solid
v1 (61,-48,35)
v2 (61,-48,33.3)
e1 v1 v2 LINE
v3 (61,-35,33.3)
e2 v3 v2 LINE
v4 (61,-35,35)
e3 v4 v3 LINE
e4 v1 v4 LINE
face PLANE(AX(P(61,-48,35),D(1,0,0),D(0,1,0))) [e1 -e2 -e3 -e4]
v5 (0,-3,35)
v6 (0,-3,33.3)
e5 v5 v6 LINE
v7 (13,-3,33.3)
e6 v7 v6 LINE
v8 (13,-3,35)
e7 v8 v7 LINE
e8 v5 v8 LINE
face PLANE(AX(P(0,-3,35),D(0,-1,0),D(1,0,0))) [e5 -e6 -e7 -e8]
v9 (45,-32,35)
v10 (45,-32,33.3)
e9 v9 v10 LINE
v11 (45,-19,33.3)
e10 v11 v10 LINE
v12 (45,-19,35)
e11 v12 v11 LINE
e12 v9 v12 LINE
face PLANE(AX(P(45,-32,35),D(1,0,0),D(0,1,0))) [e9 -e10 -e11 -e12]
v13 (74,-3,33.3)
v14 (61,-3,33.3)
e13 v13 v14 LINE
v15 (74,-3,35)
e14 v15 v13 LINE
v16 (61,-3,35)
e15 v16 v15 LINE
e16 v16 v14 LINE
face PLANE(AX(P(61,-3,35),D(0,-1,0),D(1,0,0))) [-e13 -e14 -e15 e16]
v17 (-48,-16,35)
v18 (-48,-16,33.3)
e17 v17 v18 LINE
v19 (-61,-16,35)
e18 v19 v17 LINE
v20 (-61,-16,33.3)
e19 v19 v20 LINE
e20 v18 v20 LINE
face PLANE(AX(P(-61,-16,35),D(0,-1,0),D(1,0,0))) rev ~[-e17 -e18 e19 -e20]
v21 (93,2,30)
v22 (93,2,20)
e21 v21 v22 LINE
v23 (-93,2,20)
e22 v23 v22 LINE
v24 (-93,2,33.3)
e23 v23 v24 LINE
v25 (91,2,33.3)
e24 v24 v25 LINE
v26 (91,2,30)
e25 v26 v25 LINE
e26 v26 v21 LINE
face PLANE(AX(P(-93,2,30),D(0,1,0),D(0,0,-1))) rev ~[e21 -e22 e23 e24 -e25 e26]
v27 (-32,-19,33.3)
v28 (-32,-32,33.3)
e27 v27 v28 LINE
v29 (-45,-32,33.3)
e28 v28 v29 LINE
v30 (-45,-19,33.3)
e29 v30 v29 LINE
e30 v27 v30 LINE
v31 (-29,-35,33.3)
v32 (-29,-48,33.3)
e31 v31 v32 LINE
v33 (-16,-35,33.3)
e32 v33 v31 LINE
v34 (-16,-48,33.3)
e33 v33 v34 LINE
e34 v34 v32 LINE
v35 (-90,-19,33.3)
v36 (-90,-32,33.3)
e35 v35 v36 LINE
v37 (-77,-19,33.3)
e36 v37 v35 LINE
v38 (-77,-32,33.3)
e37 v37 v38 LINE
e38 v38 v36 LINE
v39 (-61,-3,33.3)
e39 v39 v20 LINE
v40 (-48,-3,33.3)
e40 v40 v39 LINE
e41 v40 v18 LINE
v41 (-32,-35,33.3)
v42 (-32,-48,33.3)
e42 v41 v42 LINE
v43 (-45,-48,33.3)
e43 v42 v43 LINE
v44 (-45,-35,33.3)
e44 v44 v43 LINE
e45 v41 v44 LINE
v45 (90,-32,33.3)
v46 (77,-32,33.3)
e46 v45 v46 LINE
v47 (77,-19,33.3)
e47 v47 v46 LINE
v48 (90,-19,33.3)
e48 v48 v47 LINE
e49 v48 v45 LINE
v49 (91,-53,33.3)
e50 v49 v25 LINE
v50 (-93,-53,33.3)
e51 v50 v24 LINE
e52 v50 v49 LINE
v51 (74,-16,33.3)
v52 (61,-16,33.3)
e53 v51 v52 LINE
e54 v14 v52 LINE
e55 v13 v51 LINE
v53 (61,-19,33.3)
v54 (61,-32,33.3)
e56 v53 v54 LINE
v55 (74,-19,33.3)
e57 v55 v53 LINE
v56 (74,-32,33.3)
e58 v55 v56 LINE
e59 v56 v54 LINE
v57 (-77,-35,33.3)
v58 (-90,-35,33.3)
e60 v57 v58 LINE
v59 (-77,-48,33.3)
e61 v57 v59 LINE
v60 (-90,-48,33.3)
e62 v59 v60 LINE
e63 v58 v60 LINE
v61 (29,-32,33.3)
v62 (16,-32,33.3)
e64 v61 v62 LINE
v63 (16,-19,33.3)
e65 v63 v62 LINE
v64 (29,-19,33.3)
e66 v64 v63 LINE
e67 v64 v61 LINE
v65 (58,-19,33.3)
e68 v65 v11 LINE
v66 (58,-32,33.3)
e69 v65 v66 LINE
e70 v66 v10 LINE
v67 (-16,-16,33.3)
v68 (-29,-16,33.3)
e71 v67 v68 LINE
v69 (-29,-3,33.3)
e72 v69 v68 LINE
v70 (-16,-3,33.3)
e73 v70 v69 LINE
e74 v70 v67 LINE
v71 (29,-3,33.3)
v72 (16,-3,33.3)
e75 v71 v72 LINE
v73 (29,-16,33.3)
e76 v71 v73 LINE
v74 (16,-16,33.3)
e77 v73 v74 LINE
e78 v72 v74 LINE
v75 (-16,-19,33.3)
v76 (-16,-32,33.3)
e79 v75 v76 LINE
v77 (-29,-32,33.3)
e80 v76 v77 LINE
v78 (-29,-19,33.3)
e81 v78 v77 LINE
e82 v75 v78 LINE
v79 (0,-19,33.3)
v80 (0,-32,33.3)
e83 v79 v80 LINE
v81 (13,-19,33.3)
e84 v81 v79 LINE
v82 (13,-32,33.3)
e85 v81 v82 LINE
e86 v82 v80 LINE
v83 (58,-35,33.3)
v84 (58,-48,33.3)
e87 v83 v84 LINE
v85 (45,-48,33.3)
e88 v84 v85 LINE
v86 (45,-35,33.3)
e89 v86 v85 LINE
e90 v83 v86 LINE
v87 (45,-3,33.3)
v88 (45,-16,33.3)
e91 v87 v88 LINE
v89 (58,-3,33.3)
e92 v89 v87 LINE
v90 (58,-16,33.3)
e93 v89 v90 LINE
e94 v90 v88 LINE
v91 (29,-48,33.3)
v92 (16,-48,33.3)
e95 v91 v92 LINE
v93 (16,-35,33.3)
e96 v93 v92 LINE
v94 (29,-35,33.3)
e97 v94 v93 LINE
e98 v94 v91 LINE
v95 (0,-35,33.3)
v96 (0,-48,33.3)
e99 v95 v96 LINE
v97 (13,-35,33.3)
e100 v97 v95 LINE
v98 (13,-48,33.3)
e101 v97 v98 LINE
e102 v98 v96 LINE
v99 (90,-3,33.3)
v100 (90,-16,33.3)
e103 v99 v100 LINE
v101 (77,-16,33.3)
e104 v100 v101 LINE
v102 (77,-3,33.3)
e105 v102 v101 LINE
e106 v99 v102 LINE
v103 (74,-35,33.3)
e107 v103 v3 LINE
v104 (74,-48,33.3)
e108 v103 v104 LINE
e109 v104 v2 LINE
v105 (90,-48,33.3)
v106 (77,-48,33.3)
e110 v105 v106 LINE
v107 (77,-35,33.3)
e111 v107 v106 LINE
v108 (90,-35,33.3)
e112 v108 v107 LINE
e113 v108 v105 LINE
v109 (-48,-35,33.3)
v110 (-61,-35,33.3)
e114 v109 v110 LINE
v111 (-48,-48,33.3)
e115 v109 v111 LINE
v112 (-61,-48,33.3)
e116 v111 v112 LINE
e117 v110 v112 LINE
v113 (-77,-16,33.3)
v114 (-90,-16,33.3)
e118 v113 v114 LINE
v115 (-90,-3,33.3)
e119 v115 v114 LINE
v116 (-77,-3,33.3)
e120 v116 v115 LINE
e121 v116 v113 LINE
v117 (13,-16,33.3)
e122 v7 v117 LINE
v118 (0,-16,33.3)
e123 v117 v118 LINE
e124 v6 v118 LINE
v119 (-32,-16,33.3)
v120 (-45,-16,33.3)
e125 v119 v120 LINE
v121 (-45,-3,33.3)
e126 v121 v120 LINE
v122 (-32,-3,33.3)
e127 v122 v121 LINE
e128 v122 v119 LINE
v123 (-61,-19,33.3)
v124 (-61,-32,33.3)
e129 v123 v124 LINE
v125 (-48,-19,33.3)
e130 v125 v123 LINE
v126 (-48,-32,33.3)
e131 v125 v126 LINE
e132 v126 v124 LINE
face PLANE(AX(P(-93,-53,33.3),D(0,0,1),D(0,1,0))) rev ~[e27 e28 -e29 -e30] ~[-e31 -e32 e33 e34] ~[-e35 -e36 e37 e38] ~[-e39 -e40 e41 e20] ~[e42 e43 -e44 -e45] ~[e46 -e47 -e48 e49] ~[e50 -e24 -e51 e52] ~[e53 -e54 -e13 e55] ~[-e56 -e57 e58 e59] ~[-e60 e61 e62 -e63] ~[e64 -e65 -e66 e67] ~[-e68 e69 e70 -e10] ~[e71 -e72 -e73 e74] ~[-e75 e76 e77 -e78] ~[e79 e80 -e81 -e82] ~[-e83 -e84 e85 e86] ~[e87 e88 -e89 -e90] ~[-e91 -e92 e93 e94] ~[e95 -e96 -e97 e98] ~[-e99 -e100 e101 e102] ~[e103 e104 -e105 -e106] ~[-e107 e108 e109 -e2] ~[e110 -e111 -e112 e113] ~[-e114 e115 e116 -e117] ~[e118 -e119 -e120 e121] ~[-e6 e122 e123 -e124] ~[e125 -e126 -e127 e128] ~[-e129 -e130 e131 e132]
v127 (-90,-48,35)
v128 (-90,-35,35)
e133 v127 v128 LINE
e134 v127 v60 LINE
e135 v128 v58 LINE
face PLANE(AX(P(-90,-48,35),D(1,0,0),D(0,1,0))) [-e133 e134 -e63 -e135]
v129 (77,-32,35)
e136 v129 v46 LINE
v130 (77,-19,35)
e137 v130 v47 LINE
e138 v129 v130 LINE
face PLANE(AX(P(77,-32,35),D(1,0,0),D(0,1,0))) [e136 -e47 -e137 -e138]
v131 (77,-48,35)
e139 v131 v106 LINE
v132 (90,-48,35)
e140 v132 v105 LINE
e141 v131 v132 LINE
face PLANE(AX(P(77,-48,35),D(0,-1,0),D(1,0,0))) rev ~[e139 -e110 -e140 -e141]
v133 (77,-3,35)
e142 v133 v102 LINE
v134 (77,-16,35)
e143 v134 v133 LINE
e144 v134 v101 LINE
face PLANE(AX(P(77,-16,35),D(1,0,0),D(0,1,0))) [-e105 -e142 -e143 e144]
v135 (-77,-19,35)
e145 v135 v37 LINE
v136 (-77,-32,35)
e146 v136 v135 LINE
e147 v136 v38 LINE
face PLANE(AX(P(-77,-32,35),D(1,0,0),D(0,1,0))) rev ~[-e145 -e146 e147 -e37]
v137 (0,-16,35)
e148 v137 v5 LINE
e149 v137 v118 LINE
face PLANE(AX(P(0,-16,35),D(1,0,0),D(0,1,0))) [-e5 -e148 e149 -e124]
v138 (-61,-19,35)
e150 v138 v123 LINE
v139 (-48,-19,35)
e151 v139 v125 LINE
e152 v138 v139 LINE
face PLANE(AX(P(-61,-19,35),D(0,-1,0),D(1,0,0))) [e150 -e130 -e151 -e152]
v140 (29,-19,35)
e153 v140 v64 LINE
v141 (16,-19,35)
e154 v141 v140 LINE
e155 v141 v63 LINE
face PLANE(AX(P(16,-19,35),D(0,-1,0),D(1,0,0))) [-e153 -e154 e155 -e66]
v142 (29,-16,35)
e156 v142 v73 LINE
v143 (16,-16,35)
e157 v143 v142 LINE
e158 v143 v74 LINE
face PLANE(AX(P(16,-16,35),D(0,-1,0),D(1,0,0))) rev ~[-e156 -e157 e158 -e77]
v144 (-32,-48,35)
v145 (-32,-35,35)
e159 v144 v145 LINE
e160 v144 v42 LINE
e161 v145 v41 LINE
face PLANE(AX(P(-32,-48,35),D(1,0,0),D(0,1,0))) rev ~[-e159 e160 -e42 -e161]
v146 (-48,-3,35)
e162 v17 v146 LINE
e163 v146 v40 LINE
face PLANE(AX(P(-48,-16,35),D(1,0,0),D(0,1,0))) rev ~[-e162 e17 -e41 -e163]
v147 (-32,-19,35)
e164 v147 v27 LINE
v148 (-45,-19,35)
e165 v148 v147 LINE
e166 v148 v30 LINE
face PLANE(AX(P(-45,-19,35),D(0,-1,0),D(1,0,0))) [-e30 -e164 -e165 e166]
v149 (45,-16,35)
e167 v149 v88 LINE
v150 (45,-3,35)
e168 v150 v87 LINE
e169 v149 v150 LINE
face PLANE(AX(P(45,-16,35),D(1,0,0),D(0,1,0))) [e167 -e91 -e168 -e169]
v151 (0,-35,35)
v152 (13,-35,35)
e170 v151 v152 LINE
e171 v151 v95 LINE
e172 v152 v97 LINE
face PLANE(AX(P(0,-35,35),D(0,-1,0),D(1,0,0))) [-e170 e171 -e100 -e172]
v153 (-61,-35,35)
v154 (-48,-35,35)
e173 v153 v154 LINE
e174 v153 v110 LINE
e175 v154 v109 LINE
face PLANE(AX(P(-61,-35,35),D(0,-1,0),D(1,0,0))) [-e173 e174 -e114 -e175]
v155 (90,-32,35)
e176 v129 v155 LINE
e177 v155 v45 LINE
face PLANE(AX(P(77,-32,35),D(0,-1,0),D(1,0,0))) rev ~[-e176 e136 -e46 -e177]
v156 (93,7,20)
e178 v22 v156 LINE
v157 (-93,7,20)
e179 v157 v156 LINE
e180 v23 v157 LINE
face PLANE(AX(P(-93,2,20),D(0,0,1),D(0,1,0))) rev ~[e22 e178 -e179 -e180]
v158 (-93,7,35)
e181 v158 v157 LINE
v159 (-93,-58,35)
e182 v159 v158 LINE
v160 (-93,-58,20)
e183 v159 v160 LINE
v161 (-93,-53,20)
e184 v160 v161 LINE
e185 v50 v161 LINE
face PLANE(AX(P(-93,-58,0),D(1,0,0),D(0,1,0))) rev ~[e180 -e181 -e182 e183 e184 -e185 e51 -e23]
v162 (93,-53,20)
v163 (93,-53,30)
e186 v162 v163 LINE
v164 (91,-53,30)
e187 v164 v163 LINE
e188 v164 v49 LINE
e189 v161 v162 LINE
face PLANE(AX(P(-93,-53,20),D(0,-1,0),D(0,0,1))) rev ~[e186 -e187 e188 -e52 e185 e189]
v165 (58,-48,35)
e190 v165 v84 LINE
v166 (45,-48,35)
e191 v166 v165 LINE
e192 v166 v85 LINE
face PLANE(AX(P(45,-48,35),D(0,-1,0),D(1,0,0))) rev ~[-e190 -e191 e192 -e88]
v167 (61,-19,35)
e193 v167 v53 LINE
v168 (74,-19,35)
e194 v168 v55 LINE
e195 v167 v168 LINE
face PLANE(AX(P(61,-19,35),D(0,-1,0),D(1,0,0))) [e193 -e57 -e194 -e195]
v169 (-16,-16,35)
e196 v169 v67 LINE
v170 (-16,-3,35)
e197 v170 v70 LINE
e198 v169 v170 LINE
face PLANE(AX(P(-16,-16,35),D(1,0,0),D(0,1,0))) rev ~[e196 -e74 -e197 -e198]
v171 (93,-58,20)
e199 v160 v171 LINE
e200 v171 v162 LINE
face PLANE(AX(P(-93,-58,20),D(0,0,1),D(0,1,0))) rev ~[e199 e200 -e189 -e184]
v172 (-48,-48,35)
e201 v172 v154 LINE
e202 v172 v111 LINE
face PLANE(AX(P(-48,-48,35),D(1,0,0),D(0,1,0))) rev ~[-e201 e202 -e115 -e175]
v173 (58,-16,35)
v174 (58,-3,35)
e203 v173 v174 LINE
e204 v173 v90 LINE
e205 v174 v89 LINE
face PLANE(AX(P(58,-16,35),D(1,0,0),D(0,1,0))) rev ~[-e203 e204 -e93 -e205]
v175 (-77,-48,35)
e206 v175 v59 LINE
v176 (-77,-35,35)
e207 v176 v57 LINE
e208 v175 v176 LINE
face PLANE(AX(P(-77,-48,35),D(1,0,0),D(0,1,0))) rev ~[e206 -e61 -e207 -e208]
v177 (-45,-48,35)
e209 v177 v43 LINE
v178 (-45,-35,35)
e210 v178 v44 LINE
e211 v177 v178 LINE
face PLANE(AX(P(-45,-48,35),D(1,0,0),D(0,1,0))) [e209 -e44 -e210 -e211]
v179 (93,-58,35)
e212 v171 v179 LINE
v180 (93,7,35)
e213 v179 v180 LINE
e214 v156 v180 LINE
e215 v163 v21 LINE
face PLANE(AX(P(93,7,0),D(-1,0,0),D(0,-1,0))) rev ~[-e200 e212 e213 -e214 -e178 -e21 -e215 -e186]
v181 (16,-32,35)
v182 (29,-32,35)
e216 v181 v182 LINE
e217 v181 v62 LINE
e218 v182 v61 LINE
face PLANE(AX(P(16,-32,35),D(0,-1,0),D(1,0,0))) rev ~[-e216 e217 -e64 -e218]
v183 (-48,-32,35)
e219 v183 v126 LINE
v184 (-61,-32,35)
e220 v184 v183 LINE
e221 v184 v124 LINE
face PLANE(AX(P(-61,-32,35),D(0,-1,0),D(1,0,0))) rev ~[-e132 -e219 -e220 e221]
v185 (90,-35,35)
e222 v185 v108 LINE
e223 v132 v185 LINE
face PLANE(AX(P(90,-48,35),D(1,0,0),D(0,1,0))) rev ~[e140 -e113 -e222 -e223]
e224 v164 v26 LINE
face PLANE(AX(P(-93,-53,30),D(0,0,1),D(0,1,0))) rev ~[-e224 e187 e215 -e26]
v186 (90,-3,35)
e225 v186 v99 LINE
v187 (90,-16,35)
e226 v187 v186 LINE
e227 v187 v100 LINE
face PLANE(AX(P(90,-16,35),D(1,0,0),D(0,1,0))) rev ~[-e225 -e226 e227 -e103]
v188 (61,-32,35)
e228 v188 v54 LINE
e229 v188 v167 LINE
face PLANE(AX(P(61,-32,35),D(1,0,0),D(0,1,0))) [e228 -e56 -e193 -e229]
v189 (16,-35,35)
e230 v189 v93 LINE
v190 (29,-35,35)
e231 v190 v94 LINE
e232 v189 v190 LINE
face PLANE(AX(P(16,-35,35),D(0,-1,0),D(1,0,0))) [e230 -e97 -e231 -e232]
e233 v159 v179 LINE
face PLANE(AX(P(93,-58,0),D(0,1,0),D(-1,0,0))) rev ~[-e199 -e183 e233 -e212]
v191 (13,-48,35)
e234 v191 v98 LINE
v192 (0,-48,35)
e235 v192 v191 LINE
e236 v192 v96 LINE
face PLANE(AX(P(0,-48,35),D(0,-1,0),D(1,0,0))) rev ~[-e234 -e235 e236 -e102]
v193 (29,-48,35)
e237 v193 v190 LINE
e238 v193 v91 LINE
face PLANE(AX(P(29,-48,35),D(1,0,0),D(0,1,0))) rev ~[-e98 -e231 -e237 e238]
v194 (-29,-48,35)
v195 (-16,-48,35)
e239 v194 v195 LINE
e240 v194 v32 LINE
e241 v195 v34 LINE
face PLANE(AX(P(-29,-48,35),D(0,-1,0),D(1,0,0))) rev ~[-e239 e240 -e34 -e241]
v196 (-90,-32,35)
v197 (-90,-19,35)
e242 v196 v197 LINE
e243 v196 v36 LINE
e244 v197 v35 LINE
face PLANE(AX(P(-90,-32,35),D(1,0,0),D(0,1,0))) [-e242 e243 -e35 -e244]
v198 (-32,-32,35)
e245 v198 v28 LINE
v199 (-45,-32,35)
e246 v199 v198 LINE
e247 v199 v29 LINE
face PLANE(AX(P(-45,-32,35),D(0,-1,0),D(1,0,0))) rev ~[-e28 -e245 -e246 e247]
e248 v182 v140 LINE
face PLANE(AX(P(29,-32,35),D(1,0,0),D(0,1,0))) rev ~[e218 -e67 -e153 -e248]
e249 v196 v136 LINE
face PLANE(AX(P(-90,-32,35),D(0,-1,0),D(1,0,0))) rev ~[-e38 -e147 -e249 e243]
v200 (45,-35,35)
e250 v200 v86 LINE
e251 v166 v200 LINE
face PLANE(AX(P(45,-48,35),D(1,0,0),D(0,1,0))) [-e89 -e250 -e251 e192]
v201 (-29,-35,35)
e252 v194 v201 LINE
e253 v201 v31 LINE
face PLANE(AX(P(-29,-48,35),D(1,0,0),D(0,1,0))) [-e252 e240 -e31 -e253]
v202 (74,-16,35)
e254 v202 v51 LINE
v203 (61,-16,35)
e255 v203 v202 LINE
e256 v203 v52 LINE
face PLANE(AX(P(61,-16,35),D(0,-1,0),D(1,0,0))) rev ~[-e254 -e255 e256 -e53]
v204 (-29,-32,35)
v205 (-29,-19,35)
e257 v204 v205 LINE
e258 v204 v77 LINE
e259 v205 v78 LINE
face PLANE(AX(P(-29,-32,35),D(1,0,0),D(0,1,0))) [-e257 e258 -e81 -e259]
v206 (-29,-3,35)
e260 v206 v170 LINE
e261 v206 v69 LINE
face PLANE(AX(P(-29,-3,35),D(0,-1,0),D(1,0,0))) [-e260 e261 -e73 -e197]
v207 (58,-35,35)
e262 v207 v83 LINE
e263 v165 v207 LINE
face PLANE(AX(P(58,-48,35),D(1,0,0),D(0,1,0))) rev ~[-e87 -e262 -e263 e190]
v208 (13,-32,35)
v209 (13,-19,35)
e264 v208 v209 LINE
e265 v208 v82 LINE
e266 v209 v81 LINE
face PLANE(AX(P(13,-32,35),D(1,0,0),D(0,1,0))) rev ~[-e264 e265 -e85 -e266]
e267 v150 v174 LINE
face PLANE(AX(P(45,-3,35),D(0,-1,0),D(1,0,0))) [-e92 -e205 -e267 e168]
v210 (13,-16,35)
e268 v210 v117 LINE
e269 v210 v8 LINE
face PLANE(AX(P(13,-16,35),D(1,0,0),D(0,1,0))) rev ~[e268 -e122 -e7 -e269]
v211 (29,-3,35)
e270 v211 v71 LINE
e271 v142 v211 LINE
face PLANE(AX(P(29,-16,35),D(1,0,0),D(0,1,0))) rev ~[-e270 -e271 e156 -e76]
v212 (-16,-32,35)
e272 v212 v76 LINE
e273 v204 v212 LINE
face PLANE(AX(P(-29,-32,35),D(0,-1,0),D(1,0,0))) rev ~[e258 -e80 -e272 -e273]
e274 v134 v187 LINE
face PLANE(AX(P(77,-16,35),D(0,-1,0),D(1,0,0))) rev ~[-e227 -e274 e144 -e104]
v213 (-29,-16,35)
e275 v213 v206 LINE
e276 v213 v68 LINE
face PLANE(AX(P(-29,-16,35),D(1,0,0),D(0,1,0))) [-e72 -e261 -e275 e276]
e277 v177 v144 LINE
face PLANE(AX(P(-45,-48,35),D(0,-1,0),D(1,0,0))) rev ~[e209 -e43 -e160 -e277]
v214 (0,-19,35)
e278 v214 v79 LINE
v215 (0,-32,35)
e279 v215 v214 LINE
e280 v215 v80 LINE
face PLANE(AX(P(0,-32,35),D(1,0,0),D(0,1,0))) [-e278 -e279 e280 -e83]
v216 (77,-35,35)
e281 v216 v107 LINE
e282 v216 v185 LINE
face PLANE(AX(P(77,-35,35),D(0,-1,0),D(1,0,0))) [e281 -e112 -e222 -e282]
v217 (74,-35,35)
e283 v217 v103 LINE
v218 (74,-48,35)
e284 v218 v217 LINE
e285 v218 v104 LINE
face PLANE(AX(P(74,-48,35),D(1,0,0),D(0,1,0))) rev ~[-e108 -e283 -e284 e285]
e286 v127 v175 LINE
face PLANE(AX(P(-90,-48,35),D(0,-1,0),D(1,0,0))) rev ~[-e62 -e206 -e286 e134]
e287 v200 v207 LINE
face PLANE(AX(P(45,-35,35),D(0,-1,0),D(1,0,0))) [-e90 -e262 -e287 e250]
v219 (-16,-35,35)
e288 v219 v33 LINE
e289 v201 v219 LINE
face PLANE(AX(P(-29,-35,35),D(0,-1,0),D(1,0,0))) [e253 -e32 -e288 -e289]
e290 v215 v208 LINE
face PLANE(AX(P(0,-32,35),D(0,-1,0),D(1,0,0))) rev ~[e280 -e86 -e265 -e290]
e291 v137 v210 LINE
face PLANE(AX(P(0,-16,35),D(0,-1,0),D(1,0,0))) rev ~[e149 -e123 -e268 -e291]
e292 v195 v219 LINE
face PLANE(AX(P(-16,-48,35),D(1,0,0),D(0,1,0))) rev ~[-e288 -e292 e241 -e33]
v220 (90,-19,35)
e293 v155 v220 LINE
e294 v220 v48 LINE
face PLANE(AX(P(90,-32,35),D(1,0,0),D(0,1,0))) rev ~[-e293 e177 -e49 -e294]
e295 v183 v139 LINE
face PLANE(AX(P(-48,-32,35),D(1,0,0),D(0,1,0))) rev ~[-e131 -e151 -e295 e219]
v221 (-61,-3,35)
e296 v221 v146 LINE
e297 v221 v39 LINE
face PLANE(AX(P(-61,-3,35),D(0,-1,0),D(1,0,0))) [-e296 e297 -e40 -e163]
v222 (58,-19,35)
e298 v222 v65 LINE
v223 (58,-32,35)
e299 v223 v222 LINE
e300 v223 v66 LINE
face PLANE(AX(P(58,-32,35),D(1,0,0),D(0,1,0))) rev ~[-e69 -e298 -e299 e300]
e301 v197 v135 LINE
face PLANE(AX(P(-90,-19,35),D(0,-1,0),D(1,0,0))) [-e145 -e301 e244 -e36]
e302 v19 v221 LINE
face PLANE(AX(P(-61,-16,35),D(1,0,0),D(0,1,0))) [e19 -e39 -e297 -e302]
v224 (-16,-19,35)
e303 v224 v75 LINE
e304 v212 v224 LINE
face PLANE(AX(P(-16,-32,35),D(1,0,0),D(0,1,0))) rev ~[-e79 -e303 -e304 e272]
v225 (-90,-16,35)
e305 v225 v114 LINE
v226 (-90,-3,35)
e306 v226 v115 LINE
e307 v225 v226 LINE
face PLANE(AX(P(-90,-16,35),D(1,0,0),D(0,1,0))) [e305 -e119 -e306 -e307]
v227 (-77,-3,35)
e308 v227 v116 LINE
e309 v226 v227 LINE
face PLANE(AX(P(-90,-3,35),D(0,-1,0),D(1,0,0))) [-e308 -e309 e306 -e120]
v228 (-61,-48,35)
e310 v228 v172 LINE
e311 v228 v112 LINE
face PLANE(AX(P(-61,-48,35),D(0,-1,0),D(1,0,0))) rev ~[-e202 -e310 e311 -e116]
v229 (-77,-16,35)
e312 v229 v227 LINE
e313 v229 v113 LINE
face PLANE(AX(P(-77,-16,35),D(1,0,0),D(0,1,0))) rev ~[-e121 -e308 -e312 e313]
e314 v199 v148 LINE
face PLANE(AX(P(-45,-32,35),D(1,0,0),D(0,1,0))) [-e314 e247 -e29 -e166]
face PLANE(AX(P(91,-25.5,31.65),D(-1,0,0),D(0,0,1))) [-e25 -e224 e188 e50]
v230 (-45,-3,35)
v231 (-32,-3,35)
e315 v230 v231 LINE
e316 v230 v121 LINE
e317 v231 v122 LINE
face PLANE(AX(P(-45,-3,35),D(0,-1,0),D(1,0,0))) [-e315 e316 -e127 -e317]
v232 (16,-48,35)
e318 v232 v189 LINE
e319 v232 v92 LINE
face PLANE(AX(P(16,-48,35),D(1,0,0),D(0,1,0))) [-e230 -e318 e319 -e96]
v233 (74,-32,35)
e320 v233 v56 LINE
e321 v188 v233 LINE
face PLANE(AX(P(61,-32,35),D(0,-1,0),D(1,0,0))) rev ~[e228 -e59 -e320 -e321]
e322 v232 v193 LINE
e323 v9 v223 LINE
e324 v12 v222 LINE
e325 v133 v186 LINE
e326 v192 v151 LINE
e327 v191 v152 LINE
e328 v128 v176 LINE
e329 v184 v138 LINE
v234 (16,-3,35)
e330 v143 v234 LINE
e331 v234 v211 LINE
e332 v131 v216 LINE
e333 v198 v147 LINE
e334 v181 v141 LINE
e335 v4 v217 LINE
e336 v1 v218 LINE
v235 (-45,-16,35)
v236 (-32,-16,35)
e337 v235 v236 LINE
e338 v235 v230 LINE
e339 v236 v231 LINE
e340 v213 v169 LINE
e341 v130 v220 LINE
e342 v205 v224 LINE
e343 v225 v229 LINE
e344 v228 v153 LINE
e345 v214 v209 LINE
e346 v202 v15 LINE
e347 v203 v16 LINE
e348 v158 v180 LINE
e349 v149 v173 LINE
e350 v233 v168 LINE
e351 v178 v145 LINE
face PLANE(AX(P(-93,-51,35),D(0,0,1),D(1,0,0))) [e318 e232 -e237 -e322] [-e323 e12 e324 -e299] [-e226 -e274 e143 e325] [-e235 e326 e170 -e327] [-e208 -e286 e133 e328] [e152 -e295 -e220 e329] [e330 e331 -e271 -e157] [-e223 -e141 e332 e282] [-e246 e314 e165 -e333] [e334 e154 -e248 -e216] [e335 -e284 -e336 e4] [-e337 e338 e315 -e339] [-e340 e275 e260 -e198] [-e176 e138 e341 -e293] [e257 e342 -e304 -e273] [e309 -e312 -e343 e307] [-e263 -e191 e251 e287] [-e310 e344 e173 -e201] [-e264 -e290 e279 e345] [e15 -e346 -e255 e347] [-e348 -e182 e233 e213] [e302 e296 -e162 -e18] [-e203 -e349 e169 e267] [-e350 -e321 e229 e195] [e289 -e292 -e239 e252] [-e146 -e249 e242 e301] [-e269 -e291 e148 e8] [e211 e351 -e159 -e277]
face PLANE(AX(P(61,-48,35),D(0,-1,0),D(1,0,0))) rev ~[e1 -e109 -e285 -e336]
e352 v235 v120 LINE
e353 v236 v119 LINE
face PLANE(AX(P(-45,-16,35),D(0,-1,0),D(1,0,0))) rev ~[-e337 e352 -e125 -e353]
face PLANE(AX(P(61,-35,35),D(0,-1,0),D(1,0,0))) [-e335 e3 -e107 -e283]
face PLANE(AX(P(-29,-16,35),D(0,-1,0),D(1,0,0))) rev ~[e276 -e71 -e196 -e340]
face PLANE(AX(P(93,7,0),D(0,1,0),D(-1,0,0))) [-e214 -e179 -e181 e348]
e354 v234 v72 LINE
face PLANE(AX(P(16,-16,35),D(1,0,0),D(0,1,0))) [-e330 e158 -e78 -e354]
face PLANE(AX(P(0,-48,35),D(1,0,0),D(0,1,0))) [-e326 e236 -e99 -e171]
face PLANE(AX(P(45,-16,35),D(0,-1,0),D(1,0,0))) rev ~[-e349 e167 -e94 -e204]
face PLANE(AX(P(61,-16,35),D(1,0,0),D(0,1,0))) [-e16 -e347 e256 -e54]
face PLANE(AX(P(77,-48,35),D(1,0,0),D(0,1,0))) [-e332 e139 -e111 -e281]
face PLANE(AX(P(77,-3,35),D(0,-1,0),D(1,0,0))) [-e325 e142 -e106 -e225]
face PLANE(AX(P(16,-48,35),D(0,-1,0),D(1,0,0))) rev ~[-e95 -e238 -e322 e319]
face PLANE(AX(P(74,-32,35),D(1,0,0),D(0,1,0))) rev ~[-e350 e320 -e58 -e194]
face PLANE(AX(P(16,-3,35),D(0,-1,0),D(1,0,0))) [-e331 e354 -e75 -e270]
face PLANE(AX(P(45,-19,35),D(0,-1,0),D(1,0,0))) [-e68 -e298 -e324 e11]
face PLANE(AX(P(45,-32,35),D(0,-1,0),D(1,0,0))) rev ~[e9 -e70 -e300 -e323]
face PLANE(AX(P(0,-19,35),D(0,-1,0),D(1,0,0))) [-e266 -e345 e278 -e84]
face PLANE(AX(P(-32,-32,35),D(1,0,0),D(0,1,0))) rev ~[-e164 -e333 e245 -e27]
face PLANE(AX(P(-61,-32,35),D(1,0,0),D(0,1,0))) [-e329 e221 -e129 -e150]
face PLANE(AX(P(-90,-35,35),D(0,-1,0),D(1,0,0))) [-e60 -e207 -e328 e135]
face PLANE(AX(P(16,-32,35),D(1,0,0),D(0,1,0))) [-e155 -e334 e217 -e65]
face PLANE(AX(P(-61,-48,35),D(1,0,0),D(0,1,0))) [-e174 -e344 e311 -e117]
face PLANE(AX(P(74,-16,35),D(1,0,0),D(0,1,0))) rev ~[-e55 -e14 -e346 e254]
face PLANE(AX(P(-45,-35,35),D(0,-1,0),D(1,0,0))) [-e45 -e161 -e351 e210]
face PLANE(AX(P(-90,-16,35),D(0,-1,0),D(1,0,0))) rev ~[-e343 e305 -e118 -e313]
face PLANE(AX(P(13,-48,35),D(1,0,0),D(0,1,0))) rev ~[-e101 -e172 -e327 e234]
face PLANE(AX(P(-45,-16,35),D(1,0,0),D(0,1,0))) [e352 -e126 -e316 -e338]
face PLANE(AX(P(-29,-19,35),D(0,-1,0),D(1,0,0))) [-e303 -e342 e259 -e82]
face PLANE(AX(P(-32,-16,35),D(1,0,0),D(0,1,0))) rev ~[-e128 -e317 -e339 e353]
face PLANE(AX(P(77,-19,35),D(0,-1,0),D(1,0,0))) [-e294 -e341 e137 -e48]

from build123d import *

# Parameters (mm, degrees)
ESQUISSE1_W                     = 186
ESQUISSE1_H                     = 51
BOSS_EXTRU_1_DEPTH              = 35
ESQUISSE7_W                     = 13
ESQUISSE7_H                     = 13
ENL_V_MAT_EXTRU_5_DEPTH         = 91
R_P_TITION_LIN_AIRE5_COUNT      = 3
R_P_TITION_LIN_AIRE5_PITCH      = 16
ESQUISSE8_W                     = 13
ESQUISSE8_H                     = 13
ENL_V_MAT_EXTRU_6_DEPTH         = 103
R_P_TITION_LIN_AIRE6_COUNT      = 3
R_P_TITION_LIN_AIRE6_PITCH      = 16
R_P_TITION_LIN_AIRE6_COUNT_DIR2 = 3
R_P_TITION_LIN_AIRE6_PITCH_DIR2 = 16
ESQUISSE9_W                     = 13
ESQUISSE9_H                     = 13
ENL_V_MAT_EXTRU_7_DEPTH         = 77
R_P_TITION_LIN_AIRE7_COUNT      = 3
R_P_TITION_LIN_AIRE7_PITCH      = 16
R_P_TITION_LIN_AIRE7_COUNT_DIR2 = 2
R_P_TITION_LIN_AIRE7_PITCH_DIR2 = 16
ESQUISSE10_W                    = 13
ESQUISSE10_H                    = 13
ENL_V_MAT_EXTRU_8_DEPTH         = 78
R_P_TITION_LIN_AIRE8_COUNT      = 3
R_P_TITION_LIN_AIRE8_PITCH      = 16
R_P_TITION_LIN_AIRE8_COUNT_DIR2 = 3
R_P_TITION_LIN_AIRE8_PITCH_DIR2 = 16
ESQUISSE14_W                    = 10
ESQUISSE14_H                    = 5
BOSS_EXTRU_3_DEPTH              = 7
ESQUISSE25_W                    = 186
ESQUISSE25_H                    = 35
BOSS_EXTRU_7_DEPTH              = 7
ESQUISSE18_W                    = 186
ESQUISSE18_H                    = 35
BOSS_EXTRU_5_DEPTH              = 7
ESQUISSE16_W                    = 3.3
ESQUISSE16_H                    = 55
ENL_V_MAT_EXTRU_11_DEPTH        = 184
ESQUISSE15_R                    = 1
ENL_V_MAT_EXTRU_10_DEPTH        = 7
ESQUISSE24_W                    = 10
ESQUISSE24_H                    = 2
ENL_V_MAT_EXTRU_12_DEPTH        = 1
ESQUISSE19_W                    = 186
ESQUISSE19_H                    = 1
ESQUISSE19_W_2                  = 1
ESQUISSE19_H_2                  = 63
BOSS_EXTRU_8_DEPTH              = 30
ESQUISSE26_R                    = 1.75
ENL_V_MAT_EXTRU_14_DEPTH        = 30
ESQUISSE27_R                    = 1.75
ENL_V_MAT_EXTRU_20_DEPTH        = 198.952014387


with BuildPart() as part:
    # Esquisse1 → Boss.-Extru.1 (new body)
    with BuildSketch(Plane.XY):
        with Locations((0, -25.5)):
            Rectangle(ESQUISSE1_W, ESQUISSE1_H)
    extrude(amount=BOSS_EXTRU_1_DEPTH)

    # Esquisse7 → Enlèv. mat.-Extru.5 (cut)
    with BuildSketch(Plane.XY.offset(35)):
        with Locations((-83.5, -9.5)):
            Rectangle(ESQUISSE7_W, ESQUISSE7_H)
    enl_v_mat_extru_5 = extrude(amount=-ENL_V_MAT_EXTRU_5_DEPTH, mode=Mode.SUBTRACT)

    # Répétition linéaire5: Enlèv. mat.-Extru.5 ×3
    with Locations(*[(0, -i * R_P_TITION_LIN_AIRE5_PITCH, 0) for i in range(1, R_P_TITION_LIN_AIRE5_COUNT)]):
        add(enl_v_mat_extru_5, mode=Mode.SUBTRACT)

    # Esquisse8 → Enlèv. mat.-Extru.6 (cut)
    with BuildSketch(Plane.XY.offset(35)):
        with Locations((-54.5, -9.5)):
            Rectangle(ESQUISSE8_W, ESQUISSE8_H)
    enl_v_mat_extru_6 = extrude(amount=-ENL_V_MAT_EXTRU_6_DEPTH, mode=Mode.SUBTRACT)

    # Répétition linéaire6: Enl_v. mat.-Extru.6 3 × 3
    with Locations(*[(j * R_P_TITION_LIN_AIRE6_PITCH_DIR2, -i * R_P_TITION_LIN_AIRE6_PITCH, 0) for i in range(R_P_TITION_LIN_AIRE6_COUNT) for j in range(R_P_TITION_LIN_AIRE6_COUNT_DIR2) if (i, j) != (0, 0)]):
        add(enl_v_mat_extru_6, mode=Mode.SUBTRACT)

    # Esquisse9 → Enlèv. mat.-Extru.7 (cut)
    with BuildSketch(Plane.XY.offset(35)):
        with Locations((6.5, -9.5)):
            Rectangle(ESQUISSE9_W, ESQUISSE9_H)
    enl_v_mat_extru_7 = extrude(amount=-ENL_V_MAT_EXTRU_7_DEPTH, mode=Mode.SUBTRACT)

    # Répétition linéaire7: Enl_v. mat.-Extru.7 3 × 2
    with Locations(*[(j * R_P_TITION_LIN_AIRE7_PITCH_DIR2, -i * R_P_TITION_LIN_AIRE7_PITCH, 0) for i in range(R_P_TITION_LIN_AIRE7_COUNT) for j in range(R_P_TITION_LIN_AIRE7_COUNT_DIR2) if (i, j) != (0, 0)]):
        add(enl_v_mat_extru_7, mode=Mode.SUBTRACT)

    # Esquisse10 → Enlèv. mat.-Extru.8 (cut)
    with BuildSketch(Plane.XY.offset(35)):
        with Locations((51.5, -9.5)):
            Rectangle(ESQUISSE10_W, ESQUISSE10_H)
    enl_v_mat_extru_8 = extrude(amount=-ENL_V_MAT_EXTRU_8_DEPTH, mode=Mode.SUBTRACT)

    # Répétition linéaire8: Enl_v. mat.-Extru.8 3 × 3
    with Locations(*[(i * R_P_TITION_LIN_AIRE8_PITCH, -j * R_P_TITION_LIN_AIRE8_PITCH_DIR2, 0) for i in range(R_P_TITION_LIN_AIRE8_COUNT) for j in range(R_P_TITION_LIN_AIRE8_COUNT_DIR2) if (i, j) != (0, 0)]):
        add(enl_v_mat_extru_8, mode=Mode.SUBTRACT)

    # Esquisse14 → Boss.-Extru.3 (add)
    with BuildSketch(Plane.XZ.offset(51)):
        with Locations((-7.663083533, 2.5)):
            Rectangle(ESQUISSE14_W, ESQUISSE14_H)
    extrude(amount=BOSS_EXTRU_3_DEPTH)

    # Esquisse25 → Boss.-Extru.7 (add)
    with BuildSketch(Plane(origin=(0, 0, 0), x_dir=(1, 0, 0), z_dir=(0, 1, 0))):
        with Locations((0, -17.5)):
            Rectangle(ESQUISSE25_W, ESQUISSE25_H)
    extrude(amount=BOSS_EXTRU_7_DEPTH)

    # Esquisse18 → Boss.-Extru.5 (add)
    with BuildSketch(Plane.XZ.offset(51)):
        with Locations((0, 17.5)):
            Rectangle(ESQUISSE18_W, ESQUISSE18_H)
    extrude(amount=BOSS_EXTRU_5_DEPTH)

    # Esquisse16 → Enlèv. mat.-Extru.11 (cut)
    with BuildSketch(Plane.ZY.offset(93)):
        with Locations((31.65, -25.5)):
            Rectangle(ESQUISSE16_W, ESQUISSE16_H)
    extrude(amount=-ENL_V_MAT_EXTRU_11_DEPTH, mode=Mode.SUBTRACT)

    # Esquisse15 → Enlèv. mat.-Extru.10 (cut)
    with BuildSketch(Plane(origin=(0, 0, 0), x_dir=(-1, 0, 0), z_dir=(0, 0, -1))):
        with Locations((8.482305804, -42.446555864)):
            Circle(ESQUISSE15_R)
        with Locations((8.482305804, -9.749028666)):
            Circle(ESQUISSE15_R)
        with Locations((68.823038652, -42.446555864)):
            Circle(ESQUISSE15_R)
        with Locations((68.823038652, -9.749028666)):
            Circle(ESQUISSE15_R)
        with Locations((-37.13548256, -42.446555864)):
            Circle(ESQUISSE15_R)
        with Locations((-39.215855023, -11.260648292)):
            Circle(ESQUISSE15_R)
    extrude(amount=-ENL_V_MAT_EXTRU_10_DEPTH, mode=Mode.SUBTRACT)

    # Esquisse24 → Enlèv. mat.-Extru.12 (cut)
    with BuildSketch(Plane(origin=(0, 0, 0), x_dir=(-1, 0, 0), z_dir=(0, 0, -1))):
        with Locations((83.5, -49)):
            Rectangle(ESQUISSE24_W, ESQUISSE24_H)
        with Locations((54.5, -49)):
            Rectangle(ESQUISSE24_W, ESQUISSE24_H)
        with Locations((38.5, -49)):
            Rectangle(ESQUISSE24_W, ESQUISSE24_H)
        with Locations((22.5, -49)):
            Rectangle(ESQUISSE24_W, ESQUISSE24_H)
        with Locations((-6.5, -49)):
            Rectangle(ESQUISSE24_W, ESQUISSE24_H)
        with Locations((-22.5, -49)):
            Rectangle(ESQUISSE24_W, ESQUISSE24_H)
        with Locations((-51.5, -49)):
            Rectangle(ESQUISSE24_W, ESQUISSE24_H)
        with Locations((-67.5, -49)):
            Rectangle(ESQUISSE24_W, ESQUISSE24_H)
        with Locations((-83.5, -49)):
            Rectangle(ESQUISSE24_W, ESQUISSE24_H)
        with Locations((-83.5, -2)):
            Rectangle(ESQUISSE24_W, ESQUISSE24_H)
        with Locations((-67.5, -2)):
            Rectangle(ESQUISSE24_W, ESQUISSE24_H)
        with Locations((-51.5, -2)):
            Rectangle(ESQUISSE24_W, ESQUISSE24_H)
        with Locations((-22.5, -2)):
            Rectangle(ESQUISSE24_W, ESQUISSE24_H)
        with Locations((-6.5, -2)):
            Rectangle(ESQUISSE24_W, ESQUISSE24_H)
        with Locations((22.5, -2)):
            Rectangle(ESQUISSE24_W, ESQUISSE24_H)
        with Locations((38.5, -2)):
            Rectangle(ESQUISSE24_W, ESQUISSE24_H)
        with Locations((54.5, -2)):
            Rectangle(ESQUISSE24_W, ESQUISSE24_H)
        with Locations((83.5, -2)):
            Rectangle(ESQUISSE24_W, ESQUISSE24_H)
    extrude(amount=-ENL_V_MAT_EXTRU_12_DEPTH, mode=Mode.SUBTRACT)

    # Esquisse19 → Boss.-Extru.8 (add)
    with BuildSketch(Plane(origin=(0, 0, 0), x_dir=(-1, 0, 0), z_dir=(0, 0, -1))):
        with Locations((0, -57.5)):
            Rectangle(ESQUISSE19_W, ESQUISSE19_H)
        with Locations((92.5, -25.5)):
            Rectangle(ESQUISSE19_W_2, ESQUISSE19_H_2)
        with Locations((0, 6.5)):
            Rectangle(ESQUISSE19_W, ESQUISSE19_H)
        with Locations((-92.5, -25.5)):
            Rectangle(ESQUISSE19_W_2, ESQUISSE19_H_2)
    extrude(amount=BOSS_EXTRU_8_DEPTH)

    # Esquisse26 → Enlèv. mat.-Extru.14 (cut)
    with BuildSketch(Plane.ZY.offset(93)):
        with Locations((-13.75, -25.5)):
            Circle(ESQUISSE26_R)
    extrude(amount=-ENL_V_MAT_EXTRU_14_DEPTH, mode=Mode.SUBTRACT)

    # Esquisse27 → Enlèv. mat.-Extru.20 (cut, through all)
    # profile 1 of 2: a face of its own
    with BuildSketch(Plane.ZY.offset(93)):
        Polygon((30, -53), (30, 2), (20, 2), (20, 7), (-30, 7), (-30, -58), (20, -58), (20, -53), align=None)
        with Locations((-13.75, -25.5)):
            Circle(ESQUISSE27_R, mode=Mode.SUBTRACT)
    # profile 2 of 2: a face of its own
    with BuildSketch(Plane.ZY.offset(93)):
        with Locations((-13.75, -25.5)):
            Circle(ESQUISSE27_R)
    extrude(amount=-ENL_V_MAT_EXTRU_20_DEPTH, mode=Mode.SUBTRACT)


solid = part.part
